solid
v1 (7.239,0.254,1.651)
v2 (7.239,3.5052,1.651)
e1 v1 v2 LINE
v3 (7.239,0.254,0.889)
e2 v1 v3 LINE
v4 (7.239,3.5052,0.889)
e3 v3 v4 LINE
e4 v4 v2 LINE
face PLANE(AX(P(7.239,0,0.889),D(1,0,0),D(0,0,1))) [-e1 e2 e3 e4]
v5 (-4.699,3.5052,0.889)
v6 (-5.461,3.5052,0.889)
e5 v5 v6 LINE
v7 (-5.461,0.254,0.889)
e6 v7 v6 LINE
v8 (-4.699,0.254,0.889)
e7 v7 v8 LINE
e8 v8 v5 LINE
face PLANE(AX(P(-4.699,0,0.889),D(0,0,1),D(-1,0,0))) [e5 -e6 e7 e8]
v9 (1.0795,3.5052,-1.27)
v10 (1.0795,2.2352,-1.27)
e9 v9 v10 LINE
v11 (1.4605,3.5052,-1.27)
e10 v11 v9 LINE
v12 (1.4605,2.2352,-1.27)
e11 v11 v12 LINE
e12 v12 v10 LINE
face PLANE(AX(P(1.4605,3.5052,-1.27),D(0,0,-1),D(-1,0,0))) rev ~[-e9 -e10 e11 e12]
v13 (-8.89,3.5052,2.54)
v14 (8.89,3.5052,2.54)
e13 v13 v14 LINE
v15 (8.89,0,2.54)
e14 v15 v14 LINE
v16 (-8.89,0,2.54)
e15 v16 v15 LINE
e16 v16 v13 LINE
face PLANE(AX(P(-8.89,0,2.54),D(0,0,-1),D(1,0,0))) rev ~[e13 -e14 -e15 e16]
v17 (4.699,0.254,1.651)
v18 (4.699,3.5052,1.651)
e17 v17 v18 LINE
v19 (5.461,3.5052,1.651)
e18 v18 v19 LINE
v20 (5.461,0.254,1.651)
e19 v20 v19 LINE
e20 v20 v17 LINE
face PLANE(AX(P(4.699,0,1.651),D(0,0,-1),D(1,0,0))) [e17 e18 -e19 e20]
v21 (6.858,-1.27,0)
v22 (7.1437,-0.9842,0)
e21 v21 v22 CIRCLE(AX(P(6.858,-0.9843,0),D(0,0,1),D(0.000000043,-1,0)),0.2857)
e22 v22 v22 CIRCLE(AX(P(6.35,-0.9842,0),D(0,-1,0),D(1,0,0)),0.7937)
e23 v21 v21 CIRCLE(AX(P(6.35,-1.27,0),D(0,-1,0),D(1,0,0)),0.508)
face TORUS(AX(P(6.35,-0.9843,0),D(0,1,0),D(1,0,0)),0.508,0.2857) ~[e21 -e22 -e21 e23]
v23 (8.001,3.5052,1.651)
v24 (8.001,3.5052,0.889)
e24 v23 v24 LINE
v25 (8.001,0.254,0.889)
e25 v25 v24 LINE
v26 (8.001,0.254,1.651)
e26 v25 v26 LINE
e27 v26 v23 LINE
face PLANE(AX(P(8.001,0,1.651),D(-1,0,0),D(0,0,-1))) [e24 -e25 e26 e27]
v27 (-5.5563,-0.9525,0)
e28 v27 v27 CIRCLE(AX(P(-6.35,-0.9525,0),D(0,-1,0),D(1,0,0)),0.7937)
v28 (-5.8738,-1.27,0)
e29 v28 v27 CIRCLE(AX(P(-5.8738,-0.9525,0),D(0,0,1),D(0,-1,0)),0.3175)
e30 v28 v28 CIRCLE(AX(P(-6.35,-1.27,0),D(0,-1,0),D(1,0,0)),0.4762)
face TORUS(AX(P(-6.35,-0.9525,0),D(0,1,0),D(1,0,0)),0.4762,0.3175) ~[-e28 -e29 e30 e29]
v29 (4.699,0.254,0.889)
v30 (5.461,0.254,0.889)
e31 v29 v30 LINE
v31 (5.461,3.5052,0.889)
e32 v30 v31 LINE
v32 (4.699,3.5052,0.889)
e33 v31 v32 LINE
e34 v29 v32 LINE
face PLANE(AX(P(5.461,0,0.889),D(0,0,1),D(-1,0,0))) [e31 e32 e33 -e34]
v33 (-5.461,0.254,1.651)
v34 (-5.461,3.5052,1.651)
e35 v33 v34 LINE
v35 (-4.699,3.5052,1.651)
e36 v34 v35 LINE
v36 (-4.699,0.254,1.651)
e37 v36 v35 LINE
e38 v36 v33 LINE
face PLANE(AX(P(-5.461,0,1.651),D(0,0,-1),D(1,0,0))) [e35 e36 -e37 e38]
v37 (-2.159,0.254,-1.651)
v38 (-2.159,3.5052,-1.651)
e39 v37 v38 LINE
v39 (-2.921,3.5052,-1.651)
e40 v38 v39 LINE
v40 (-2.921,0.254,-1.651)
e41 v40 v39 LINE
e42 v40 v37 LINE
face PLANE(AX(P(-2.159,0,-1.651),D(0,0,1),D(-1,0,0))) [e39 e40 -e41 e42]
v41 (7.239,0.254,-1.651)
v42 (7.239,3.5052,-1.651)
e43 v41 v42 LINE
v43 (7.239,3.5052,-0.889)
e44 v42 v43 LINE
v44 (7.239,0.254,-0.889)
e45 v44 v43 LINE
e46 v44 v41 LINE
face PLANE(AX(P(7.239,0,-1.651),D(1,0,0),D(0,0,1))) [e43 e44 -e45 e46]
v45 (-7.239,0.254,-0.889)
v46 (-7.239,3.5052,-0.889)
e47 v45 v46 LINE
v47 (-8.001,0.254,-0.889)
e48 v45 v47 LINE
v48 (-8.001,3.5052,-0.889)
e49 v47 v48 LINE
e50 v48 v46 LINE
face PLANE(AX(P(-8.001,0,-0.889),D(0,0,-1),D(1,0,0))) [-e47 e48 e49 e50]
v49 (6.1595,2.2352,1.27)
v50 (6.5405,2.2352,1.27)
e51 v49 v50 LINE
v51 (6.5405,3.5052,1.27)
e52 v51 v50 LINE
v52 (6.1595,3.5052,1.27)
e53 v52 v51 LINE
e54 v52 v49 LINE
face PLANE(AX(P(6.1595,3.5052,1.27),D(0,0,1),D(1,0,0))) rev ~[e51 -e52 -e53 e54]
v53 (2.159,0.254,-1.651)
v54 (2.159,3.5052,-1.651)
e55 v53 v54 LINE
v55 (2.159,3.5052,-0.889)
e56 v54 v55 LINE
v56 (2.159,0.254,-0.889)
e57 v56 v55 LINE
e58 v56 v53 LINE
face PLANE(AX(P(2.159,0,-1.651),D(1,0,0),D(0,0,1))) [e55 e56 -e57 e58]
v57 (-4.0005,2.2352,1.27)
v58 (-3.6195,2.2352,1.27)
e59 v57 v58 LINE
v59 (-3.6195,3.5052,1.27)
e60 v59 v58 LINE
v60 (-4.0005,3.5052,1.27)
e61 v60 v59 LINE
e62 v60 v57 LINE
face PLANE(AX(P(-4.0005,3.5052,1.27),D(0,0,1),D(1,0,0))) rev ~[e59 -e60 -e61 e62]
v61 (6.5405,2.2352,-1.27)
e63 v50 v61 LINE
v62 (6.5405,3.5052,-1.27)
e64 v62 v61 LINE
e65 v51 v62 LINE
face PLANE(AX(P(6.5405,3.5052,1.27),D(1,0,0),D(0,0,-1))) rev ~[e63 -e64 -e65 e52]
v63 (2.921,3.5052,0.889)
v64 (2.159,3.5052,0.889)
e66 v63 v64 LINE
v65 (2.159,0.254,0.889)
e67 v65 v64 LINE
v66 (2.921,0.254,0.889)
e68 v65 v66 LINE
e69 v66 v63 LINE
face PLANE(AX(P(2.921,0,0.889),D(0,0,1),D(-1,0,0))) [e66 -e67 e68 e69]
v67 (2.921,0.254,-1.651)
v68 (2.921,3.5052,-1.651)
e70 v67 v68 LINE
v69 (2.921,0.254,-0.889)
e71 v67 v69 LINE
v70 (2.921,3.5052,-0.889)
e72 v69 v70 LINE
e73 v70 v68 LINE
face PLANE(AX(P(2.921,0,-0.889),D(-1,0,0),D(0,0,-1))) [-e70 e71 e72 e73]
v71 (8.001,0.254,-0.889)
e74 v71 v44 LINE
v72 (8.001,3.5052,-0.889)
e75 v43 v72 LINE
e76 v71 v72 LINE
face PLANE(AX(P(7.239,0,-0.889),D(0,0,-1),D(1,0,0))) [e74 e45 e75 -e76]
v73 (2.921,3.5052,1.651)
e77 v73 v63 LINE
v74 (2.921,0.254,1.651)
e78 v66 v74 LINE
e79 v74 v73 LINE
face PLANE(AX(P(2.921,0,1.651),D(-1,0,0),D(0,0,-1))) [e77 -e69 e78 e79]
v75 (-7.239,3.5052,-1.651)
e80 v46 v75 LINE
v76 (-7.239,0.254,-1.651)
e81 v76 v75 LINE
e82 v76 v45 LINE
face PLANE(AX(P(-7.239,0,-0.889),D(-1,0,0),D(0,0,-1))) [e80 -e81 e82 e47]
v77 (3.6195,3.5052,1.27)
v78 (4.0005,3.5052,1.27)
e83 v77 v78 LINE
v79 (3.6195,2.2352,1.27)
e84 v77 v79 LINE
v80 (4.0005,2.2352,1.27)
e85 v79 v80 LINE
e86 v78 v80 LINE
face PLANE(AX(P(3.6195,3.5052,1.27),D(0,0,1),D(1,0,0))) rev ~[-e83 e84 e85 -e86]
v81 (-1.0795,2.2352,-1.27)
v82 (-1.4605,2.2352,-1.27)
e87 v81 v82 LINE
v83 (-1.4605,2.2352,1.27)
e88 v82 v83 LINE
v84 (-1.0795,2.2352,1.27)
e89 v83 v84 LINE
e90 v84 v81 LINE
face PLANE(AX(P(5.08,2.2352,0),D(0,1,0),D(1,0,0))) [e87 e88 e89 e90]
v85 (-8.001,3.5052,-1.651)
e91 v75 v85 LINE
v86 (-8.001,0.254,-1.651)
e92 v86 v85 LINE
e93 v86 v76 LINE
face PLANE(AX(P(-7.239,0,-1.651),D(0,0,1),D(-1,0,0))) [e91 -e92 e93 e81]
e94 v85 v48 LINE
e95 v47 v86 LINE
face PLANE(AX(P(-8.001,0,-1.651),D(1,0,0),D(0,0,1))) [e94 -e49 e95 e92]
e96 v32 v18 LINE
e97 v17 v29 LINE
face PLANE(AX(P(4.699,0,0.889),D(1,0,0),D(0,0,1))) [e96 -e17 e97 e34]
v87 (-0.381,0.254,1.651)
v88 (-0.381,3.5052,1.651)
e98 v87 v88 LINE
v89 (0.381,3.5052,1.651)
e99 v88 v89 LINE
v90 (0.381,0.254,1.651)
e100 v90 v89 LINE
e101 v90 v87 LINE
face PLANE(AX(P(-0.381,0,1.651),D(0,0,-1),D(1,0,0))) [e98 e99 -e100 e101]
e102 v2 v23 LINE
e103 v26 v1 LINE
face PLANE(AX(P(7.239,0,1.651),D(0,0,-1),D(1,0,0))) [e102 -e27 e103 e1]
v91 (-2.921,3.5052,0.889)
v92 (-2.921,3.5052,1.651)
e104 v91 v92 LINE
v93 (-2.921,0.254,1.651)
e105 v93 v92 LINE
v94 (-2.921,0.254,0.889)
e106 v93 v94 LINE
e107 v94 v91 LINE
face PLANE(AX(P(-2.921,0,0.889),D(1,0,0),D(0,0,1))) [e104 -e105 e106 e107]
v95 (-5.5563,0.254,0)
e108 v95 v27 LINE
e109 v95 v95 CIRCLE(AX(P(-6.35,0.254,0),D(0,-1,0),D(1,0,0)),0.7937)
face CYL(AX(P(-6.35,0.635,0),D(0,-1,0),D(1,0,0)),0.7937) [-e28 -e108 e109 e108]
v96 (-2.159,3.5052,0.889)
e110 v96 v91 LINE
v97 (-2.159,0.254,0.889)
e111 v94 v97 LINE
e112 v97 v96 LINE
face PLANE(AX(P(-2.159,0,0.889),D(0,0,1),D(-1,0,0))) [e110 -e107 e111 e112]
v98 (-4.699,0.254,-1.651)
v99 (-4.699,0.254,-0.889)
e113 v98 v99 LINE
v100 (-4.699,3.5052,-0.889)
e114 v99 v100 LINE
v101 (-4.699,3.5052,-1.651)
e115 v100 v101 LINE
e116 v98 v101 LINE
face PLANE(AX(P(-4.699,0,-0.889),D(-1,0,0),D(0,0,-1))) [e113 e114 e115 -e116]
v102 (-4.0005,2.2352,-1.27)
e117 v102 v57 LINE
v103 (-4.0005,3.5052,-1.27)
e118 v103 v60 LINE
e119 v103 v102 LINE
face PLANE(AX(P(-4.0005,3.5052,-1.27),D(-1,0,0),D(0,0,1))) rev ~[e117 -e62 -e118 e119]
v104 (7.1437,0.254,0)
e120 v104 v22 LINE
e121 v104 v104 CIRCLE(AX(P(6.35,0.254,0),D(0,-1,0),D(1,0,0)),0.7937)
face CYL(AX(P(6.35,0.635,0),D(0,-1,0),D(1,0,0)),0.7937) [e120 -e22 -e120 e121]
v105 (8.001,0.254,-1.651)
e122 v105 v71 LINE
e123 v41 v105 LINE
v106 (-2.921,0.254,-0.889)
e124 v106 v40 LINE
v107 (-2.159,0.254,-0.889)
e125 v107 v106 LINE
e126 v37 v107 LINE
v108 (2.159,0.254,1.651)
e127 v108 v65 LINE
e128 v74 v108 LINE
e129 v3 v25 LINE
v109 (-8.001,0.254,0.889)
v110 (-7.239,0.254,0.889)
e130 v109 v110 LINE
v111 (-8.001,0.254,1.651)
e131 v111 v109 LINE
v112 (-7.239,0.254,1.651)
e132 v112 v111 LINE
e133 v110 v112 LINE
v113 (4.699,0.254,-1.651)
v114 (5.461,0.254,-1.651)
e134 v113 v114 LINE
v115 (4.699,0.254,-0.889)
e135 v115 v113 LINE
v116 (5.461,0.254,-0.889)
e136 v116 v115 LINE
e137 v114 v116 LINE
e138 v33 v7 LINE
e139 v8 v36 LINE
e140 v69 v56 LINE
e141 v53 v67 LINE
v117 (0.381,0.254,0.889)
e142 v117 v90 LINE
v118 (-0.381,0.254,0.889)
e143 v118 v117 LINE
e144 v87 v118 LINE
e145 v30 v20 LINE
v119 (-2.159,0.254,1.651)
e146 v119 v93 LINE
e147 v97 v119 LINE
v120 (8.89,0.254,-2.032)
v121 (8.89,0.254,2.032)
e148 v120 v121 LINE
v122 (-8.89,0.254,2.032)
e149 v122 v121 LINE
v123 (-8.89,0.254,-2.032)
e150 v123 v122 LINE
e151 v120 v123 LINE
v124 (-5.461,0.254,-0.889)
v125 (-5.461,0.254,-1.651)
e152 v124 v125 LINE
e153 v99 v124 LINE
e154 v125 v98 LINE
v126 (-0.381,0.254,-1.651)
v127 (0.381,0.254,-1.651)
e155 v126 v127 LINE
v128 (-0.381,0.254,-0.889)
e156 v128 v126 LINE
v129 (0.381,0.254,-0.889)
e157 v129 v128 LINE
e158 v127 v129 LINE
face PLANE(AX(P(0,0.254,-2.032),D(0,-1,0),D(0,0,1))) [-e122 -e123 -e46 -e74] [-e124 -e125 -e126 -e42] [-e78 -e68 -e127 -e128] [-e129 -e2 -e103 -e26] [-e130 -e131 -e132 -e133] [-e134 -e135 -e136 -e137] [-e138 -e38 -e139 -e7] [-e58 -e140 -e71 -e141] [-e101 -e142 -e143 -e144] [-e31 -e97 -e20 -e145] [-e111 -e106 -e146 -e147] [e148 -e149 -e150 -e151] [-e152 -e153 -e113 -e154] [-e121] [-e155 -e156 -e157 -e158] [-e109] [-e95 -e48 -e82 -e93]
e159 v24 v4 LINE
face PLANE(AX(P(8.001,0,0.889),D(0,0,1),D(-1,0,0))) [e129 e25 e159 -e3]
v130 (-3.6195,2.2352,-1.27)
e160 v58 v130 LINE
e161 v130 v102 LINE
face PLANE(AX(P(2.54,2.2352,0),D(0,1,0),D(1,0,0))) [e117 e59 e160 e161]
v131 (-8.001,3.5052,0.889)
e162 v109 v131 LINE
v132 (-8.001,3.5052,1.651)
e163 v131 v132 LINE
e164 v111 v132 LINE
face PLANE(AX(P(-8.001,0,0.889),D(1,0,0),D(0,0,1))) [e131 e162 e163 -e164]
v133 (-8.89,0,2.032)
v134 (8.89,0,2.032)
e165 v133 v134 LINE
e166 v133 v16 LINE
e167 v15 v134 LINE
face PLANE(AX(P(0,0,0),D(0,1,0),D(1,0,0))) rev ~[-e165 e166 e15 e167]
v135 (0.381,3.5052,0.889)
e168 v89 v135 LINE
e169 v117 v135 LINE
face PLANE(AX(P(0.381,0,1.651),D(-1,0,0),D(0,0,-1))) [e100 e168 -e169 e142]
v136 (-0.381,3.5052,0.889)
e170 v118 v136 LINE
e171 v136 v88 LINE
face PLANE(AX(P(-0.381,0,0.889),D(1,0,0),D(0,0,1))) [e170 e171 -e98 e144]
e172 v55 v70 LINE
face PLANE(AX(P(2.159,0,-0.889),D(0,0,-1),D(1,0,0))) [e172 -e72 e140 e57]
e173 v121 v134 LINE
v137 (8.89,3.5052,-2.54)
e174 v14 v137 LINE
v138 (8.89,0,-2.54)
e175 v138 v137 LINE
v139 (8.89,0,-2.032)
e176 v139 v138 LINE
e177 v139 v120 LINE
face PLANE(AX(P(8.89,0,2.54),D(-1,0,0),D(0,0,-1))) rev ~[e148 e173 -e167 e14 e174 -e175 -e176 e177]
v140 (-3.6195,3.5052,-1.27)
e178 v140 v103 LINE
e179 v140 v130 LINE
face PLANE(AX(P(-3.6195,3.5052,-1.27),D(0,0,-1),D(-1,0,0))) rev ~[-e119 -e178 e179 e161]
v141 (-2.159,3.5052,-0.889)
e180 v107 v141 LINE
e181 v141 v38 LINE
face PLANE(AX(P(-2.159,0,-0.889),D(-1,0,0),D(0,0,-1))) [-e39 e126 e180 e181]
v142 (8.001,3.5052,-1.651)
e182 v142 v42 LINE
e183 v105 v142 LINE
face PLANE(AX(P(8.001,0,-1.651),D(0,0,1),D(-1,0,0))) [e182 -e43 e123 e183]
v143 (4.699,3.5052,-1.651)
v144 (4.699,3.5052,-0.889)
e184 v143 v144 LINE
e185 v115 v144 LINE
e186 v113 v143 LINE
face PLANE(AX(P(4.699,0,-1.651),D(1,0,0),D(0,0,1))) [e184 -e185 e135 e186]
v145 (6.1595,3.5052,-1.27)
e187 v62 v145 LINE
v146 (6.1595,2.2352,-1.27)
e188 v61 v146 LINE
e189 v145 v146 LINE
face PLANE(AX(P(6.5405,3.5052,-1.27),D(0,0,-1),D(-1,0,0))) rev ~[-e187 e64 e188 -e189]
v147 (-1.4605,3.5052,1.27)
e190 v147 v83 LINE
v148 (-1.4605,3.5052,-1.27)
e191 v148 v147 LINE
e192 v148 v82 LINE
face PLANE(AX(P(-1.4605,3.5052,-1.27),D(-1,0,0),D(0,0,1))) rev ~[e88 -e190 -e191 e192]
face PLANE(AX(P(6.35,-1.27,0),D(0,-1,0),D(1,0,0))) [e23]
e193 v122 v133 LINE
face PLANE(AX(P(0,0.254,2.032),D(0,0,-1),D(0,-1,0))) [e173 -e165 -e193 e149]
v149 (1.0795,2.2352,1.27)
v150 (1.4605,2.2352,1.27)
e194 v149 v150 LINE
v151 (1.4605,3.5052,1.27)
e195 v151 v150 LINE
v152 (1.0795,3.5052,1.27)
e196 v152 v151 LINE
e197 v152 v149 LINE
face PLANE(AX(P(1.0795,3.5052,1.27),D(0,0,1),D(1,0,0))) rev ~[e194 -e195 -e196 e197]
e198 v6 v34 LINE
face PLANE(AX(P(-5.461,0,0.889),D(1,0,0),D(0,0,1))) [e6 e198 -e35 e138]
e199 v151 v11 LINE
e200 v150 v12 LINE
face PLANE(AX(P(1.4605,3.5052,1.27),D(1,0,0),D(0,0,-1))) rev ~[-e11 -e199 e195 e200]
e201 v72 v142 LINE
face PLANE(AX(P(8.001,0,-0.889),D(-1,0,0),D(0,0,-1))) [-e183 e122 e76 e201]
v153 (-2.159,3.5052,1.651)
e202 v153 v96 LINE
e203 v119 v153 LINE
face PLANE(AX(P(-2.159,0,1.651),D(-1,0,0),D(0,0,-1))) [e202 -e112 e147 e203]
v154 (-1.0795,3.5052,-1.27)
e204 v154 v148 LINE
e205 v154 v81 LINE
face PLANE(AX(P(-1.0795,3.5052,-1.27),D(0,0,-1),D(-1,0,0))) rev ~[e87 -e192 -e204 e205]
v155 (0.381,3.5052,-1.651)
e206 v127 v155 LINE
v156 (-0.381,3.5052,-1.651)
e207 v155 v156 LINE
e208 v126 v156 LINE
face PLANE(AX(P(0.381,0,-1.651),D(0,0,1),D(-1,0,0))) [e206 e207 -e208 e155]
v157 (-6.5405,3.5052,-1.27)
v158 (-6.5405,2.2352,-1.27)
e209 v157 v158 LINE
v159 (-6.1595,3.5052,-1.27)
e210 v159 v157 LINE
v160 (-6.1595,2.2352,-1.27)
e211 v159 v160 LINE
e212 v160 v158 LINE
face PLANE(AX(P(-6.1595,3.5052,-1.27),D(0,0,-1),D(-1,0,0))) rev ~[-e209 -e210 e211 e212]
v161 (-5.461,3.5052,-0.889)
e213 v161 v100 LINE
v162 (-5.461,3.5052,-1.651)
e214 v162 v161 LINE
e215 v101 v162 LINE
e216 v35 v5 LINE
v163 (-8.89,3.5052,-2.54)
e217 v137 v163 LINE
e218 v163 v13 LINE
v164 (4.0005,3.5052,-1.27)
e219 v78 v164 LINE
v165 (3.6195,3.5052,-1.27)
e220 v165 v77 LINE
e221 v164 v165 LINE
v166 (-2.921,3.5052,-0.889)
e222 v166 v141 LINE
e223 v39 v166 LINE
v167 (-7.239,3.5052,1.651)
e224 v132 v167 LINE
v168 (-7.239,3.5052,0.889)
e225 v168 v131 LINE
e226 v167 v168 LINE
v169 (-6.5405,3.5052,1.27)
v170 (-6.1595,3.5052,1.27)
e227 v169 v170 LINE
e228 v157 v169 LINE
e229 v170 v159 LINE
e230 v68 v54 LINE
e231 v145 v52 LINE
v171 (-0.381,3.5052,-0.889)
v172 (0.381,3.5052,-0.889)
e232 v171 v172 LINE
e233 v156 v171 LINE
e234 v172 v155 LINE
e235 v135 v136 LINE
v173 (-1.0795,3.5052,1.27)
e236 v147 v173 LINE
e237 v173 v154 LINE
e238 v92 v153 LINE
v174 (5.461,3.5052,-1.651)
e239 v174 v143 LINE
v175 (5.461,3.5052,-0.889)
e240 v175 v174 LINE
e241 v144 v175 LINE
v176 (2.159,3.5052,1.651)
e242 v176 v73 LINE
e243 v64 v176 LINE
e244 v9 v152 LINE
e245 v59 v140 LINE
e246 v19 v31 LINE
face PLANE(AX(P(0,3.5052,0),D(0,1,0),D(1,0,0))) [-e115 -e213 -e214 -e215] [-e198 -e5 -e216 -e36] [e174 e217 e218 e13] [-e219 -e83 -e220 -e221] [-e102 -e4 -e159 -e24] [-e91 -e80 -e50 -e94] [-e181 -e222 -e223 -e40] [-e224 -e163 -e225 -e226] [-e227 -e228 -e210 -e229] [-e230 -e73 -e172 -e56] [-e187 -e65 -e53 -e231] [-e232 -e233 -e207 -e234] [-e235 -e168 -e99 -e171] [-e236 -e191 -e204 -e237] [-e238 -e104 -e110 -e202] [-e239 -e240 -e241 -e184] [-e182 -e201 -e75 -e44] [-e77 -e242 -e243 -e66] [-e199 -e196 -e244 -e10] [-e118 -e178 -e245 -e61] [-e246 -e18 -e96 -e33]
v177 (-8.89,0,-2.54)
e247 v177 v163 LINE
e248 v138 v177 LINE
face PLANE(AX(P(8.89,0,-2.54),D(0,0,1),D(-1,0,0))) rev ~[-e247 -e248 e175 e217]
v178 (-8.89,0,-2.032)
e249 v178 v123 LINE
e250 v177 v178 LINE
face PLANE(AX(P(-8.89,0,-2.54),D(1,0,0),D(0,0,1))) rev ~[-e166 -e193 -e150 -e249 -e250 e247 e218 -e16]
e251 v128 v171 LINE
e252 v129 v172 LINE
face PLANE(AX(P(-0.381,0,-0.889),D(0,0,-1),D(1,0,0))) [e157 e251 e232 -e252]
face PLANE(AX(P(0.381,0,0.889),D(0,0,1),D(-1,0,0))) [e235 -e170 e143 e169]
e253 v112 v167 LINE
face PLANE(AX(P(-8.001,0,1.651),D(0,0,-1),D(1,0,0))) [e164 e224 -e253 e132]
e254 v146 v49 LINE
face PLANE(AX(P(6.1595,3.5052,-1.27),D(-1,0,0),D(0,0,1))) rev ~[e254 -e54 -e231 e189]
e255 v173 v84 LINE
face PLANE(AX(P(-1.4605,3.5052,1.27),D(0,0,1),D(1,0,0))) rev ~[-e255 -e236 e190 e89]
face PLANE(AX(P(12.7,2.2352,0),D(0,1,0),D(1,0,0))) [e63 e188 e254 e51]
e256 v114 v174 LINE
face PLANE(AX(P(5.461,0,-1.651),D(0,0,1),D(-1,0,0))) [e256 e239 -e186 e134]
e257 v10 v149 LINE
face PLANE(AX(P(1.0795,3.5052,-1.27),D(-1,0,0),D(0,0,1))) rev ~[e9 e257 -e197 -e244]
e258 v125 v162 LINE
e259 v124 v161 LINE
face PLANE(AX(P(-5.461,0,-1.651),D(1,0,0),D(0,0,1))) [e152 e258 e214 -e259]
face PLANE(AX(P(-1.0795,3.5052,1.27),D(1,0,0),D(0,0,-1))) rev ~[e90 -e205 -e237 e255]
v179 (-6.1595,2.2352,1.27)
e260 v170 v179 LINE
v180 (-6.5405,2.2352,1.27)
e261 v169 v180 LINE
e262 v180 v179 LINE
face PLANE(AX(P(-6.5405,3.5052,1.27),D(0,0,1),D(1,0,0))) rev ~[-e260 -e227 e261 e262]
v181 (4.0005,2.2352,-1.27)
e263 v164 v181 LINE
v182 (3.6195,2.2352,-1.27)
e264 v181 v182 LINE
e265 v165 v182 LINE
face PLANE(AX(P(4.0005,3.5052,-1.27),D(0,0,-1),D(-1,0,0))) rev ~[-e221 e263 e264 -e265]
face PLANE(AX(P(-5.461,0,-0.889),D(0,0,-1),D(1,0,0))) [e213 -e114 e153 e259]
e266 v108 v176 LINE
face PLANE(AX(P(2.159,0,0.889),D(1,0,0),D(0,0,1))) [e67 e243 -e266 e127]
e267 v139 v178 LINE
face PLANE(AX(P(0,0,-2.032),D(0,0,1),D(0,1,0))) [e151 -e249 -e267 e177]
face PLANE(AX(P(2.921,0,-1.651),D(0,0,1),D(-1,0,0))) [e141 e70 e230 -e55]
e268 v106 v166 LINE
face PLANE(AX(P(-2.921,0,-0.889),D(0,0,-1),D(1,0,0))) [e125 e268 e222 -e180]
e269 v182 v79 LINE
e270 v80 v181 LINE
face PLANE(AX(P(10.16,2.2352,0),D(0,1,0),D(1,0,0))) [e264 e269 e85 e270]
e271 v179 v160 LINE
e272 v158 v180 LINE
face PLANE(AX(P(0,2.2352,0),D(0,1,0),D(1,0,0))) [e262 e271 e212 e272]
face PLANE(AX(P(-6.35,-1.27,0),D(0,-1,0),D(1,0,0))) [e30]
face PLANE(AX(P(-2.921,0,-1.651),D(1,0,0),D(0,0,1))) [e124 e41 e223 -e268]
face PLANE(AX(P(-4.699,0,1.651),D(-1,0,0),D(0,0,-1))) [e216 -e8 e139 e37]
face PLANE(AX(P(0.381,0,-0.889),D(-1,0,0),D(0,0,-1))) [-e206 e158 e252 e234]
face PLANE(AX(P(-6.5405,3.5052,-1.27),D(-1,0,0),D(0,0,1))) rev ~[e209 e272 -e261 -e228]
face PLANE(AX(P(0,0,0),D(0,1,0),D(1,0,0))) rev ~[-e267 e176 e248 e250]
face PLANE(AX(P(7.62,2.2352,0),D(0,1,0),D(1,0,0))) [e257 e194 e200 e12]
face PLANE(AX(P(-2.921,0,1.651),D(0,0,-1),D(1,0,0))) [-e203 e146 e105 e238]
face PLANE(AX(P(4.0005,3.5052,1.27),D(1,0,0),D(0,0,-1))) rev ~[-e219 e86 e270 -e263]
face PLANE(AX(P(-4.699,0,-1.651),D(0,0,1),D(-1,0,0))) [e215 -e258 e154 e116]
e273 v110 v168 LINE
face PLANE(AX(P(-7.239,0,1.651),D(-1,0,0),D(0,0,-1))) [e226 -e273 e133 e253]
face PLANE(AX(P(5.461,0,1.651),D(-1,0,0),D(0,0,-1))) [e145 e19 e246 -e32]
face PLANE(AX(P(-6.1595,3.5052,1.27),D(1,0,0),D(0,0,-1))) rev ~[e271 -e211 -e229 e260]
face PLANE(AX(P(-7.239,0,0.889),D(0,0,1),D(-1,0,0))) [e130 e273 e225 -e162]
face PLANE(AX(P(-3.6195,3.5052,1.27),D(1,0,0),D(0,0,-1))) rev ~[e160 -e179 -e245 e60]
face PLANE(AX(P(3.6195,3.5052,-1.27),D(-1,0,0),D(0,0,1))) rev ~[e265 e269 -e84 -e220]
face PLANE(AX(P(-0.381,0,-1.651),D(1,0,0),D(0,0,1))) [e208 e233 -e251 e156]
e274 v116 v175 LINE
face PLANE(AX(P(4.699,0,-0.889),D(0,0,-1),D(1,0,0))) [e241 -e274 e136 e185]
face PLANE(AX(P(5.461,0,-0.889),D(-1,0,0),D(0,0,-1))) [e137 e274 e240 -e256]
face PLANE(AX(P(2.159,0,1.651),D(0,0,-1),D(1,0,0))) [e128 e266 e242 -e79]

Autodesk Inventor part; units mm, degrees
sketch "Sketch_1" plane through (0, 0, 0) normal (0, 1, 0) x (1, 0, 0)
  line L0 (-8.89, 2.54) -> (-8.89, -2.54)
  line L1 (-8.89, -2.54) -> (8.89, -2.54)
  line L2 (8.89, -2.54) -> (8.89, 2.54)
  line L3 (8.89, 2.54) -> (-8.89, 2.54)
  line L4 (7.239, -0.889) -> (7.239, -1.651)
  line L5 (7.239, -1.651) -> (8.001, -1.651)
  line L6 (8.001, -1.651) -> (8.001, -0.889)
  line L7 (8.001, -0.889) -> (7.239, -0.889)
  line L8 (7.239, 1.651) -> (7.239, 0.889)
  line L9 (7.239, 0.889) -> (8.001, 0.889)
  line L10 (8.001, 0.889) -> (8.001, 1.651)
  line L11 (8.001, 1.651) -> (7.239, 1.651)
  line L12 (4.699, -0.889) -> (4.699, -1.651)
  line L13 (4.699, -1.651) -> (5.461, -1.651)
  line L14 (5.461, -1.651) -> (5.461, -0.889)
  line L15 (5.461, -0.889) -> (4.699, -0.889)
  line L16 (4.699, 1.651) -> (4.699, 0.889)
  line L17 (4.699, 0.889) -> (5.461, 0.889)
  line L18 (5.461, 0.889) -> (5.461, 1.651)
  line L19 (5.461, 1.651) -> (4.699, 1.651)
  line L20 (2.159, -0.889) -> (2.159, -1.651)
  line L21 (2.159, -1.651) -> (2.921, -1.651)
  line L22 (2.921, -1.651) -> (2.921, -0.889)
  line L23 (2.921, -0.889) -> (2.159, -0.889)
  line L24 (2.159, 1.651) -> (2.159, 0.889)
  line L25 (2.159, 0.889) -> (2.921, 0.889)
  line L26 (2.921, 0.889) -> (2.921, 1.651)
  line L27 (2.921, 1.651) -> (2.159, 1.651)
  line L28 (-0.381, -0.889) -> (-0.381, -1.651)
  line L29 (-0.381, -1.651) -> (0.381, -1.651)
  line L30 (0.381, -1.651) -> (0.381, -0.889)
  line L31 (0.381, -0.889) -> (-0.381, -0.889)
  line L32 (-0.381, 1.651) -> (-0.381, 0.889)
  line L33 (-0.381, 0.889) -> (0.381, 0.889)
  line L34 (0.381, 0.889) -> (0.381, 1.651)
  line L35 (0.381, 1.651) -> (-0.381, 1.651)
  line L36 (-2.921, -0.889) -> (-2.921, -1.651)
  line L37 (-2.921, -1.651) -> (-2.159, -1.651)
  line L38 (-2.159, -1.651) -> (-2.159, -0.889)
  line L39 (-2.159, -0.889) -> (-2.921, -0.889)
  line L40 (-2.921, 1.651) -> (-2.921, 0.889)
  line L41 (-2.921, 0.889) -> (-2.159, 0.889)
  line L42 (-2.159, 0.889) -> (-2.159, 1.651)
  line L43 (-2.159, 1.651) -> (-2.921, 1.651)
  line L44 (-5.461, -0.889) -> (-5.461, -1.651)
  line L45 (-5.461, -1.651) -> (-4.699, -1.651)
  line L46 (-4.699, -1.651) -> (-4.699, -0.889)
  line L47 (-4.699, -0.889) -> (-5.461, -0.889)
  line L48 (-5.461, 1.651) -> (-5.461, 0.889)
  line L49 (-5.461, 0.889) -> (-4.699, 0.889)
  line L50 (-4.699, 0.889) -> (-4.699, 1.651)
  line L51 (-4.699, 1.651) -> (-5.461, 1.651)
  line L52 (-8.001, -0.889) -> (-8.001, -1.651)
  line L53 (-8.001, -1.651) -> (-7.239, -1.651)
  line L54 (-7.239, -1.651) -> (-7.239, -0.889)
  line L55 (-7.239, -0.889) -> (-8.001, -0.889)
  line L56 (-8.001, 1.651) -> (-8.001, 0.889)
  line L57 (-8.001, 0.889) -> (-7.239, 0.889)
  line L58 (-7.239, 0.889) -> (-7.239, 1.651)
  line L59 (-7.239, 1.651) -> (-8.001, 1.651)
extrude "Extrusion1" add sketch "Sketch_1" along normal blind 3.5052
sketch "Sketch_4" plane through (0, 0, 0) normal (1, 0, 0) x (0, 1, 0)
  line L0 (0.254, 2.032) -> (0, 2.032)
  line L1 (0, 2.032) -> (0, -2.032)
  line L2 (0, -2.032) -> (0.254, -2.032)
  line L3 (0.254, -2.032) -> (0.254, 2.032)
extrude "Extrusion2" cut sketch "Sketch_4" along normal mid plane 17.78
sketch "Sketch_9" plane through (0, 0, 0) normal (0, 0, 1) x (1, 0, 0)
  line L0 (6.35, -1.27) -> (6.35, 0.635)
  line L1 (6.35, 0.635) -> (7.1437, 0.635)
  line L2 (7.1437, 0.635) -> (7.1437, -0.9842)
  arc A0 (6.858, -1.27) -> (7.1437, -0.9842) centre (6.858, -0.9843) ccw
  line L3 (6.858, -1.27) -> (6.35, -1.27)
  line L4 (6.35, -1.27) -> (6.35, 0.635)
revolve "Revolution1" add sketch "Sketch_9" angle 360 about axis through (6.35, -1.27, 0) along (0, -1, 0)
sketch "Sketch_10" plane through (0, 0, 0) normal (0, 0, 1) x (1, 0, 0)
  line L0 (-6.35, -1.27) -> (-6.35, 0.635)
  line L1 (-6.35, 0.635) -> (-5.5563, 0.635)
  line L2 (-5.5563, 0.635) -> (-5.5563, -0.9525)
  arc A0 (-5.8738, -1.27) -> (-5.5563, -0.9525) centre (-5.8738, -0.9525) ccw
  line L3 (-5.8738, -1.27) -> (-6.35, -1.27)
  line L4 (-6.35, -1.27) -> (-6.35, 0.635)
revolve "Revolution2" add sketch "Sketch_10" angle 360 about axis through (-6.35, -1.27, 0) along (0, -1, 0)
sketch "Sketch_11" plane through (0, 3.5052, 0) normal (0, 1, 0) x (1, 0, 0)
  line L0 (-6.5405, 1.27) -> (-6.5405, -1.27)
  line L1 (-6.5405, -1.27) -> (-6.1595, -1.27)
  line L2 (-6.1595, -1.27) -> (-6.1595, 1.27)
  line L3 (-6.1595, 1.27) -> (-6.5405, 1.27)
extrude "Extrusion3" cut sketch "Sketch_11" against normal blind 1.27
pattern_linear "Rectangular Pattern1" count 6 spacing 2.54 along (1, 0, 0) of "Extrusion3"
ref_plane "socket_to_dummy_XY" through (0, 0, 0) normal (0, -1, 0) x (1, 0, 0)
ref_plane "socket_to_dummy_YZ" through (0, 0, 0) normal (1, 0, 0) x (0, 0, 1)
ref_plane "socket_to_dummy_ZX" through (0, 0, 0) normal (0, 0, 1) x (0, -1, 0)
ref_plane "socket_to_pad_XY" through (0, 3.5052, 0) normal (0, 1, 0) x (1, 0, 0)
ref_plane "socket_to_pad_YZ" through (0, 3.5052, 0) normal (1, 0, 0) x (0, 0, -1)
ref_plane "socket_to_pad_ZX" through (0, 3.5052, 0) normal (0, 0, -1) x (0, 1, 0)
properties part number "HLE-107-02-DV-A_socket"
